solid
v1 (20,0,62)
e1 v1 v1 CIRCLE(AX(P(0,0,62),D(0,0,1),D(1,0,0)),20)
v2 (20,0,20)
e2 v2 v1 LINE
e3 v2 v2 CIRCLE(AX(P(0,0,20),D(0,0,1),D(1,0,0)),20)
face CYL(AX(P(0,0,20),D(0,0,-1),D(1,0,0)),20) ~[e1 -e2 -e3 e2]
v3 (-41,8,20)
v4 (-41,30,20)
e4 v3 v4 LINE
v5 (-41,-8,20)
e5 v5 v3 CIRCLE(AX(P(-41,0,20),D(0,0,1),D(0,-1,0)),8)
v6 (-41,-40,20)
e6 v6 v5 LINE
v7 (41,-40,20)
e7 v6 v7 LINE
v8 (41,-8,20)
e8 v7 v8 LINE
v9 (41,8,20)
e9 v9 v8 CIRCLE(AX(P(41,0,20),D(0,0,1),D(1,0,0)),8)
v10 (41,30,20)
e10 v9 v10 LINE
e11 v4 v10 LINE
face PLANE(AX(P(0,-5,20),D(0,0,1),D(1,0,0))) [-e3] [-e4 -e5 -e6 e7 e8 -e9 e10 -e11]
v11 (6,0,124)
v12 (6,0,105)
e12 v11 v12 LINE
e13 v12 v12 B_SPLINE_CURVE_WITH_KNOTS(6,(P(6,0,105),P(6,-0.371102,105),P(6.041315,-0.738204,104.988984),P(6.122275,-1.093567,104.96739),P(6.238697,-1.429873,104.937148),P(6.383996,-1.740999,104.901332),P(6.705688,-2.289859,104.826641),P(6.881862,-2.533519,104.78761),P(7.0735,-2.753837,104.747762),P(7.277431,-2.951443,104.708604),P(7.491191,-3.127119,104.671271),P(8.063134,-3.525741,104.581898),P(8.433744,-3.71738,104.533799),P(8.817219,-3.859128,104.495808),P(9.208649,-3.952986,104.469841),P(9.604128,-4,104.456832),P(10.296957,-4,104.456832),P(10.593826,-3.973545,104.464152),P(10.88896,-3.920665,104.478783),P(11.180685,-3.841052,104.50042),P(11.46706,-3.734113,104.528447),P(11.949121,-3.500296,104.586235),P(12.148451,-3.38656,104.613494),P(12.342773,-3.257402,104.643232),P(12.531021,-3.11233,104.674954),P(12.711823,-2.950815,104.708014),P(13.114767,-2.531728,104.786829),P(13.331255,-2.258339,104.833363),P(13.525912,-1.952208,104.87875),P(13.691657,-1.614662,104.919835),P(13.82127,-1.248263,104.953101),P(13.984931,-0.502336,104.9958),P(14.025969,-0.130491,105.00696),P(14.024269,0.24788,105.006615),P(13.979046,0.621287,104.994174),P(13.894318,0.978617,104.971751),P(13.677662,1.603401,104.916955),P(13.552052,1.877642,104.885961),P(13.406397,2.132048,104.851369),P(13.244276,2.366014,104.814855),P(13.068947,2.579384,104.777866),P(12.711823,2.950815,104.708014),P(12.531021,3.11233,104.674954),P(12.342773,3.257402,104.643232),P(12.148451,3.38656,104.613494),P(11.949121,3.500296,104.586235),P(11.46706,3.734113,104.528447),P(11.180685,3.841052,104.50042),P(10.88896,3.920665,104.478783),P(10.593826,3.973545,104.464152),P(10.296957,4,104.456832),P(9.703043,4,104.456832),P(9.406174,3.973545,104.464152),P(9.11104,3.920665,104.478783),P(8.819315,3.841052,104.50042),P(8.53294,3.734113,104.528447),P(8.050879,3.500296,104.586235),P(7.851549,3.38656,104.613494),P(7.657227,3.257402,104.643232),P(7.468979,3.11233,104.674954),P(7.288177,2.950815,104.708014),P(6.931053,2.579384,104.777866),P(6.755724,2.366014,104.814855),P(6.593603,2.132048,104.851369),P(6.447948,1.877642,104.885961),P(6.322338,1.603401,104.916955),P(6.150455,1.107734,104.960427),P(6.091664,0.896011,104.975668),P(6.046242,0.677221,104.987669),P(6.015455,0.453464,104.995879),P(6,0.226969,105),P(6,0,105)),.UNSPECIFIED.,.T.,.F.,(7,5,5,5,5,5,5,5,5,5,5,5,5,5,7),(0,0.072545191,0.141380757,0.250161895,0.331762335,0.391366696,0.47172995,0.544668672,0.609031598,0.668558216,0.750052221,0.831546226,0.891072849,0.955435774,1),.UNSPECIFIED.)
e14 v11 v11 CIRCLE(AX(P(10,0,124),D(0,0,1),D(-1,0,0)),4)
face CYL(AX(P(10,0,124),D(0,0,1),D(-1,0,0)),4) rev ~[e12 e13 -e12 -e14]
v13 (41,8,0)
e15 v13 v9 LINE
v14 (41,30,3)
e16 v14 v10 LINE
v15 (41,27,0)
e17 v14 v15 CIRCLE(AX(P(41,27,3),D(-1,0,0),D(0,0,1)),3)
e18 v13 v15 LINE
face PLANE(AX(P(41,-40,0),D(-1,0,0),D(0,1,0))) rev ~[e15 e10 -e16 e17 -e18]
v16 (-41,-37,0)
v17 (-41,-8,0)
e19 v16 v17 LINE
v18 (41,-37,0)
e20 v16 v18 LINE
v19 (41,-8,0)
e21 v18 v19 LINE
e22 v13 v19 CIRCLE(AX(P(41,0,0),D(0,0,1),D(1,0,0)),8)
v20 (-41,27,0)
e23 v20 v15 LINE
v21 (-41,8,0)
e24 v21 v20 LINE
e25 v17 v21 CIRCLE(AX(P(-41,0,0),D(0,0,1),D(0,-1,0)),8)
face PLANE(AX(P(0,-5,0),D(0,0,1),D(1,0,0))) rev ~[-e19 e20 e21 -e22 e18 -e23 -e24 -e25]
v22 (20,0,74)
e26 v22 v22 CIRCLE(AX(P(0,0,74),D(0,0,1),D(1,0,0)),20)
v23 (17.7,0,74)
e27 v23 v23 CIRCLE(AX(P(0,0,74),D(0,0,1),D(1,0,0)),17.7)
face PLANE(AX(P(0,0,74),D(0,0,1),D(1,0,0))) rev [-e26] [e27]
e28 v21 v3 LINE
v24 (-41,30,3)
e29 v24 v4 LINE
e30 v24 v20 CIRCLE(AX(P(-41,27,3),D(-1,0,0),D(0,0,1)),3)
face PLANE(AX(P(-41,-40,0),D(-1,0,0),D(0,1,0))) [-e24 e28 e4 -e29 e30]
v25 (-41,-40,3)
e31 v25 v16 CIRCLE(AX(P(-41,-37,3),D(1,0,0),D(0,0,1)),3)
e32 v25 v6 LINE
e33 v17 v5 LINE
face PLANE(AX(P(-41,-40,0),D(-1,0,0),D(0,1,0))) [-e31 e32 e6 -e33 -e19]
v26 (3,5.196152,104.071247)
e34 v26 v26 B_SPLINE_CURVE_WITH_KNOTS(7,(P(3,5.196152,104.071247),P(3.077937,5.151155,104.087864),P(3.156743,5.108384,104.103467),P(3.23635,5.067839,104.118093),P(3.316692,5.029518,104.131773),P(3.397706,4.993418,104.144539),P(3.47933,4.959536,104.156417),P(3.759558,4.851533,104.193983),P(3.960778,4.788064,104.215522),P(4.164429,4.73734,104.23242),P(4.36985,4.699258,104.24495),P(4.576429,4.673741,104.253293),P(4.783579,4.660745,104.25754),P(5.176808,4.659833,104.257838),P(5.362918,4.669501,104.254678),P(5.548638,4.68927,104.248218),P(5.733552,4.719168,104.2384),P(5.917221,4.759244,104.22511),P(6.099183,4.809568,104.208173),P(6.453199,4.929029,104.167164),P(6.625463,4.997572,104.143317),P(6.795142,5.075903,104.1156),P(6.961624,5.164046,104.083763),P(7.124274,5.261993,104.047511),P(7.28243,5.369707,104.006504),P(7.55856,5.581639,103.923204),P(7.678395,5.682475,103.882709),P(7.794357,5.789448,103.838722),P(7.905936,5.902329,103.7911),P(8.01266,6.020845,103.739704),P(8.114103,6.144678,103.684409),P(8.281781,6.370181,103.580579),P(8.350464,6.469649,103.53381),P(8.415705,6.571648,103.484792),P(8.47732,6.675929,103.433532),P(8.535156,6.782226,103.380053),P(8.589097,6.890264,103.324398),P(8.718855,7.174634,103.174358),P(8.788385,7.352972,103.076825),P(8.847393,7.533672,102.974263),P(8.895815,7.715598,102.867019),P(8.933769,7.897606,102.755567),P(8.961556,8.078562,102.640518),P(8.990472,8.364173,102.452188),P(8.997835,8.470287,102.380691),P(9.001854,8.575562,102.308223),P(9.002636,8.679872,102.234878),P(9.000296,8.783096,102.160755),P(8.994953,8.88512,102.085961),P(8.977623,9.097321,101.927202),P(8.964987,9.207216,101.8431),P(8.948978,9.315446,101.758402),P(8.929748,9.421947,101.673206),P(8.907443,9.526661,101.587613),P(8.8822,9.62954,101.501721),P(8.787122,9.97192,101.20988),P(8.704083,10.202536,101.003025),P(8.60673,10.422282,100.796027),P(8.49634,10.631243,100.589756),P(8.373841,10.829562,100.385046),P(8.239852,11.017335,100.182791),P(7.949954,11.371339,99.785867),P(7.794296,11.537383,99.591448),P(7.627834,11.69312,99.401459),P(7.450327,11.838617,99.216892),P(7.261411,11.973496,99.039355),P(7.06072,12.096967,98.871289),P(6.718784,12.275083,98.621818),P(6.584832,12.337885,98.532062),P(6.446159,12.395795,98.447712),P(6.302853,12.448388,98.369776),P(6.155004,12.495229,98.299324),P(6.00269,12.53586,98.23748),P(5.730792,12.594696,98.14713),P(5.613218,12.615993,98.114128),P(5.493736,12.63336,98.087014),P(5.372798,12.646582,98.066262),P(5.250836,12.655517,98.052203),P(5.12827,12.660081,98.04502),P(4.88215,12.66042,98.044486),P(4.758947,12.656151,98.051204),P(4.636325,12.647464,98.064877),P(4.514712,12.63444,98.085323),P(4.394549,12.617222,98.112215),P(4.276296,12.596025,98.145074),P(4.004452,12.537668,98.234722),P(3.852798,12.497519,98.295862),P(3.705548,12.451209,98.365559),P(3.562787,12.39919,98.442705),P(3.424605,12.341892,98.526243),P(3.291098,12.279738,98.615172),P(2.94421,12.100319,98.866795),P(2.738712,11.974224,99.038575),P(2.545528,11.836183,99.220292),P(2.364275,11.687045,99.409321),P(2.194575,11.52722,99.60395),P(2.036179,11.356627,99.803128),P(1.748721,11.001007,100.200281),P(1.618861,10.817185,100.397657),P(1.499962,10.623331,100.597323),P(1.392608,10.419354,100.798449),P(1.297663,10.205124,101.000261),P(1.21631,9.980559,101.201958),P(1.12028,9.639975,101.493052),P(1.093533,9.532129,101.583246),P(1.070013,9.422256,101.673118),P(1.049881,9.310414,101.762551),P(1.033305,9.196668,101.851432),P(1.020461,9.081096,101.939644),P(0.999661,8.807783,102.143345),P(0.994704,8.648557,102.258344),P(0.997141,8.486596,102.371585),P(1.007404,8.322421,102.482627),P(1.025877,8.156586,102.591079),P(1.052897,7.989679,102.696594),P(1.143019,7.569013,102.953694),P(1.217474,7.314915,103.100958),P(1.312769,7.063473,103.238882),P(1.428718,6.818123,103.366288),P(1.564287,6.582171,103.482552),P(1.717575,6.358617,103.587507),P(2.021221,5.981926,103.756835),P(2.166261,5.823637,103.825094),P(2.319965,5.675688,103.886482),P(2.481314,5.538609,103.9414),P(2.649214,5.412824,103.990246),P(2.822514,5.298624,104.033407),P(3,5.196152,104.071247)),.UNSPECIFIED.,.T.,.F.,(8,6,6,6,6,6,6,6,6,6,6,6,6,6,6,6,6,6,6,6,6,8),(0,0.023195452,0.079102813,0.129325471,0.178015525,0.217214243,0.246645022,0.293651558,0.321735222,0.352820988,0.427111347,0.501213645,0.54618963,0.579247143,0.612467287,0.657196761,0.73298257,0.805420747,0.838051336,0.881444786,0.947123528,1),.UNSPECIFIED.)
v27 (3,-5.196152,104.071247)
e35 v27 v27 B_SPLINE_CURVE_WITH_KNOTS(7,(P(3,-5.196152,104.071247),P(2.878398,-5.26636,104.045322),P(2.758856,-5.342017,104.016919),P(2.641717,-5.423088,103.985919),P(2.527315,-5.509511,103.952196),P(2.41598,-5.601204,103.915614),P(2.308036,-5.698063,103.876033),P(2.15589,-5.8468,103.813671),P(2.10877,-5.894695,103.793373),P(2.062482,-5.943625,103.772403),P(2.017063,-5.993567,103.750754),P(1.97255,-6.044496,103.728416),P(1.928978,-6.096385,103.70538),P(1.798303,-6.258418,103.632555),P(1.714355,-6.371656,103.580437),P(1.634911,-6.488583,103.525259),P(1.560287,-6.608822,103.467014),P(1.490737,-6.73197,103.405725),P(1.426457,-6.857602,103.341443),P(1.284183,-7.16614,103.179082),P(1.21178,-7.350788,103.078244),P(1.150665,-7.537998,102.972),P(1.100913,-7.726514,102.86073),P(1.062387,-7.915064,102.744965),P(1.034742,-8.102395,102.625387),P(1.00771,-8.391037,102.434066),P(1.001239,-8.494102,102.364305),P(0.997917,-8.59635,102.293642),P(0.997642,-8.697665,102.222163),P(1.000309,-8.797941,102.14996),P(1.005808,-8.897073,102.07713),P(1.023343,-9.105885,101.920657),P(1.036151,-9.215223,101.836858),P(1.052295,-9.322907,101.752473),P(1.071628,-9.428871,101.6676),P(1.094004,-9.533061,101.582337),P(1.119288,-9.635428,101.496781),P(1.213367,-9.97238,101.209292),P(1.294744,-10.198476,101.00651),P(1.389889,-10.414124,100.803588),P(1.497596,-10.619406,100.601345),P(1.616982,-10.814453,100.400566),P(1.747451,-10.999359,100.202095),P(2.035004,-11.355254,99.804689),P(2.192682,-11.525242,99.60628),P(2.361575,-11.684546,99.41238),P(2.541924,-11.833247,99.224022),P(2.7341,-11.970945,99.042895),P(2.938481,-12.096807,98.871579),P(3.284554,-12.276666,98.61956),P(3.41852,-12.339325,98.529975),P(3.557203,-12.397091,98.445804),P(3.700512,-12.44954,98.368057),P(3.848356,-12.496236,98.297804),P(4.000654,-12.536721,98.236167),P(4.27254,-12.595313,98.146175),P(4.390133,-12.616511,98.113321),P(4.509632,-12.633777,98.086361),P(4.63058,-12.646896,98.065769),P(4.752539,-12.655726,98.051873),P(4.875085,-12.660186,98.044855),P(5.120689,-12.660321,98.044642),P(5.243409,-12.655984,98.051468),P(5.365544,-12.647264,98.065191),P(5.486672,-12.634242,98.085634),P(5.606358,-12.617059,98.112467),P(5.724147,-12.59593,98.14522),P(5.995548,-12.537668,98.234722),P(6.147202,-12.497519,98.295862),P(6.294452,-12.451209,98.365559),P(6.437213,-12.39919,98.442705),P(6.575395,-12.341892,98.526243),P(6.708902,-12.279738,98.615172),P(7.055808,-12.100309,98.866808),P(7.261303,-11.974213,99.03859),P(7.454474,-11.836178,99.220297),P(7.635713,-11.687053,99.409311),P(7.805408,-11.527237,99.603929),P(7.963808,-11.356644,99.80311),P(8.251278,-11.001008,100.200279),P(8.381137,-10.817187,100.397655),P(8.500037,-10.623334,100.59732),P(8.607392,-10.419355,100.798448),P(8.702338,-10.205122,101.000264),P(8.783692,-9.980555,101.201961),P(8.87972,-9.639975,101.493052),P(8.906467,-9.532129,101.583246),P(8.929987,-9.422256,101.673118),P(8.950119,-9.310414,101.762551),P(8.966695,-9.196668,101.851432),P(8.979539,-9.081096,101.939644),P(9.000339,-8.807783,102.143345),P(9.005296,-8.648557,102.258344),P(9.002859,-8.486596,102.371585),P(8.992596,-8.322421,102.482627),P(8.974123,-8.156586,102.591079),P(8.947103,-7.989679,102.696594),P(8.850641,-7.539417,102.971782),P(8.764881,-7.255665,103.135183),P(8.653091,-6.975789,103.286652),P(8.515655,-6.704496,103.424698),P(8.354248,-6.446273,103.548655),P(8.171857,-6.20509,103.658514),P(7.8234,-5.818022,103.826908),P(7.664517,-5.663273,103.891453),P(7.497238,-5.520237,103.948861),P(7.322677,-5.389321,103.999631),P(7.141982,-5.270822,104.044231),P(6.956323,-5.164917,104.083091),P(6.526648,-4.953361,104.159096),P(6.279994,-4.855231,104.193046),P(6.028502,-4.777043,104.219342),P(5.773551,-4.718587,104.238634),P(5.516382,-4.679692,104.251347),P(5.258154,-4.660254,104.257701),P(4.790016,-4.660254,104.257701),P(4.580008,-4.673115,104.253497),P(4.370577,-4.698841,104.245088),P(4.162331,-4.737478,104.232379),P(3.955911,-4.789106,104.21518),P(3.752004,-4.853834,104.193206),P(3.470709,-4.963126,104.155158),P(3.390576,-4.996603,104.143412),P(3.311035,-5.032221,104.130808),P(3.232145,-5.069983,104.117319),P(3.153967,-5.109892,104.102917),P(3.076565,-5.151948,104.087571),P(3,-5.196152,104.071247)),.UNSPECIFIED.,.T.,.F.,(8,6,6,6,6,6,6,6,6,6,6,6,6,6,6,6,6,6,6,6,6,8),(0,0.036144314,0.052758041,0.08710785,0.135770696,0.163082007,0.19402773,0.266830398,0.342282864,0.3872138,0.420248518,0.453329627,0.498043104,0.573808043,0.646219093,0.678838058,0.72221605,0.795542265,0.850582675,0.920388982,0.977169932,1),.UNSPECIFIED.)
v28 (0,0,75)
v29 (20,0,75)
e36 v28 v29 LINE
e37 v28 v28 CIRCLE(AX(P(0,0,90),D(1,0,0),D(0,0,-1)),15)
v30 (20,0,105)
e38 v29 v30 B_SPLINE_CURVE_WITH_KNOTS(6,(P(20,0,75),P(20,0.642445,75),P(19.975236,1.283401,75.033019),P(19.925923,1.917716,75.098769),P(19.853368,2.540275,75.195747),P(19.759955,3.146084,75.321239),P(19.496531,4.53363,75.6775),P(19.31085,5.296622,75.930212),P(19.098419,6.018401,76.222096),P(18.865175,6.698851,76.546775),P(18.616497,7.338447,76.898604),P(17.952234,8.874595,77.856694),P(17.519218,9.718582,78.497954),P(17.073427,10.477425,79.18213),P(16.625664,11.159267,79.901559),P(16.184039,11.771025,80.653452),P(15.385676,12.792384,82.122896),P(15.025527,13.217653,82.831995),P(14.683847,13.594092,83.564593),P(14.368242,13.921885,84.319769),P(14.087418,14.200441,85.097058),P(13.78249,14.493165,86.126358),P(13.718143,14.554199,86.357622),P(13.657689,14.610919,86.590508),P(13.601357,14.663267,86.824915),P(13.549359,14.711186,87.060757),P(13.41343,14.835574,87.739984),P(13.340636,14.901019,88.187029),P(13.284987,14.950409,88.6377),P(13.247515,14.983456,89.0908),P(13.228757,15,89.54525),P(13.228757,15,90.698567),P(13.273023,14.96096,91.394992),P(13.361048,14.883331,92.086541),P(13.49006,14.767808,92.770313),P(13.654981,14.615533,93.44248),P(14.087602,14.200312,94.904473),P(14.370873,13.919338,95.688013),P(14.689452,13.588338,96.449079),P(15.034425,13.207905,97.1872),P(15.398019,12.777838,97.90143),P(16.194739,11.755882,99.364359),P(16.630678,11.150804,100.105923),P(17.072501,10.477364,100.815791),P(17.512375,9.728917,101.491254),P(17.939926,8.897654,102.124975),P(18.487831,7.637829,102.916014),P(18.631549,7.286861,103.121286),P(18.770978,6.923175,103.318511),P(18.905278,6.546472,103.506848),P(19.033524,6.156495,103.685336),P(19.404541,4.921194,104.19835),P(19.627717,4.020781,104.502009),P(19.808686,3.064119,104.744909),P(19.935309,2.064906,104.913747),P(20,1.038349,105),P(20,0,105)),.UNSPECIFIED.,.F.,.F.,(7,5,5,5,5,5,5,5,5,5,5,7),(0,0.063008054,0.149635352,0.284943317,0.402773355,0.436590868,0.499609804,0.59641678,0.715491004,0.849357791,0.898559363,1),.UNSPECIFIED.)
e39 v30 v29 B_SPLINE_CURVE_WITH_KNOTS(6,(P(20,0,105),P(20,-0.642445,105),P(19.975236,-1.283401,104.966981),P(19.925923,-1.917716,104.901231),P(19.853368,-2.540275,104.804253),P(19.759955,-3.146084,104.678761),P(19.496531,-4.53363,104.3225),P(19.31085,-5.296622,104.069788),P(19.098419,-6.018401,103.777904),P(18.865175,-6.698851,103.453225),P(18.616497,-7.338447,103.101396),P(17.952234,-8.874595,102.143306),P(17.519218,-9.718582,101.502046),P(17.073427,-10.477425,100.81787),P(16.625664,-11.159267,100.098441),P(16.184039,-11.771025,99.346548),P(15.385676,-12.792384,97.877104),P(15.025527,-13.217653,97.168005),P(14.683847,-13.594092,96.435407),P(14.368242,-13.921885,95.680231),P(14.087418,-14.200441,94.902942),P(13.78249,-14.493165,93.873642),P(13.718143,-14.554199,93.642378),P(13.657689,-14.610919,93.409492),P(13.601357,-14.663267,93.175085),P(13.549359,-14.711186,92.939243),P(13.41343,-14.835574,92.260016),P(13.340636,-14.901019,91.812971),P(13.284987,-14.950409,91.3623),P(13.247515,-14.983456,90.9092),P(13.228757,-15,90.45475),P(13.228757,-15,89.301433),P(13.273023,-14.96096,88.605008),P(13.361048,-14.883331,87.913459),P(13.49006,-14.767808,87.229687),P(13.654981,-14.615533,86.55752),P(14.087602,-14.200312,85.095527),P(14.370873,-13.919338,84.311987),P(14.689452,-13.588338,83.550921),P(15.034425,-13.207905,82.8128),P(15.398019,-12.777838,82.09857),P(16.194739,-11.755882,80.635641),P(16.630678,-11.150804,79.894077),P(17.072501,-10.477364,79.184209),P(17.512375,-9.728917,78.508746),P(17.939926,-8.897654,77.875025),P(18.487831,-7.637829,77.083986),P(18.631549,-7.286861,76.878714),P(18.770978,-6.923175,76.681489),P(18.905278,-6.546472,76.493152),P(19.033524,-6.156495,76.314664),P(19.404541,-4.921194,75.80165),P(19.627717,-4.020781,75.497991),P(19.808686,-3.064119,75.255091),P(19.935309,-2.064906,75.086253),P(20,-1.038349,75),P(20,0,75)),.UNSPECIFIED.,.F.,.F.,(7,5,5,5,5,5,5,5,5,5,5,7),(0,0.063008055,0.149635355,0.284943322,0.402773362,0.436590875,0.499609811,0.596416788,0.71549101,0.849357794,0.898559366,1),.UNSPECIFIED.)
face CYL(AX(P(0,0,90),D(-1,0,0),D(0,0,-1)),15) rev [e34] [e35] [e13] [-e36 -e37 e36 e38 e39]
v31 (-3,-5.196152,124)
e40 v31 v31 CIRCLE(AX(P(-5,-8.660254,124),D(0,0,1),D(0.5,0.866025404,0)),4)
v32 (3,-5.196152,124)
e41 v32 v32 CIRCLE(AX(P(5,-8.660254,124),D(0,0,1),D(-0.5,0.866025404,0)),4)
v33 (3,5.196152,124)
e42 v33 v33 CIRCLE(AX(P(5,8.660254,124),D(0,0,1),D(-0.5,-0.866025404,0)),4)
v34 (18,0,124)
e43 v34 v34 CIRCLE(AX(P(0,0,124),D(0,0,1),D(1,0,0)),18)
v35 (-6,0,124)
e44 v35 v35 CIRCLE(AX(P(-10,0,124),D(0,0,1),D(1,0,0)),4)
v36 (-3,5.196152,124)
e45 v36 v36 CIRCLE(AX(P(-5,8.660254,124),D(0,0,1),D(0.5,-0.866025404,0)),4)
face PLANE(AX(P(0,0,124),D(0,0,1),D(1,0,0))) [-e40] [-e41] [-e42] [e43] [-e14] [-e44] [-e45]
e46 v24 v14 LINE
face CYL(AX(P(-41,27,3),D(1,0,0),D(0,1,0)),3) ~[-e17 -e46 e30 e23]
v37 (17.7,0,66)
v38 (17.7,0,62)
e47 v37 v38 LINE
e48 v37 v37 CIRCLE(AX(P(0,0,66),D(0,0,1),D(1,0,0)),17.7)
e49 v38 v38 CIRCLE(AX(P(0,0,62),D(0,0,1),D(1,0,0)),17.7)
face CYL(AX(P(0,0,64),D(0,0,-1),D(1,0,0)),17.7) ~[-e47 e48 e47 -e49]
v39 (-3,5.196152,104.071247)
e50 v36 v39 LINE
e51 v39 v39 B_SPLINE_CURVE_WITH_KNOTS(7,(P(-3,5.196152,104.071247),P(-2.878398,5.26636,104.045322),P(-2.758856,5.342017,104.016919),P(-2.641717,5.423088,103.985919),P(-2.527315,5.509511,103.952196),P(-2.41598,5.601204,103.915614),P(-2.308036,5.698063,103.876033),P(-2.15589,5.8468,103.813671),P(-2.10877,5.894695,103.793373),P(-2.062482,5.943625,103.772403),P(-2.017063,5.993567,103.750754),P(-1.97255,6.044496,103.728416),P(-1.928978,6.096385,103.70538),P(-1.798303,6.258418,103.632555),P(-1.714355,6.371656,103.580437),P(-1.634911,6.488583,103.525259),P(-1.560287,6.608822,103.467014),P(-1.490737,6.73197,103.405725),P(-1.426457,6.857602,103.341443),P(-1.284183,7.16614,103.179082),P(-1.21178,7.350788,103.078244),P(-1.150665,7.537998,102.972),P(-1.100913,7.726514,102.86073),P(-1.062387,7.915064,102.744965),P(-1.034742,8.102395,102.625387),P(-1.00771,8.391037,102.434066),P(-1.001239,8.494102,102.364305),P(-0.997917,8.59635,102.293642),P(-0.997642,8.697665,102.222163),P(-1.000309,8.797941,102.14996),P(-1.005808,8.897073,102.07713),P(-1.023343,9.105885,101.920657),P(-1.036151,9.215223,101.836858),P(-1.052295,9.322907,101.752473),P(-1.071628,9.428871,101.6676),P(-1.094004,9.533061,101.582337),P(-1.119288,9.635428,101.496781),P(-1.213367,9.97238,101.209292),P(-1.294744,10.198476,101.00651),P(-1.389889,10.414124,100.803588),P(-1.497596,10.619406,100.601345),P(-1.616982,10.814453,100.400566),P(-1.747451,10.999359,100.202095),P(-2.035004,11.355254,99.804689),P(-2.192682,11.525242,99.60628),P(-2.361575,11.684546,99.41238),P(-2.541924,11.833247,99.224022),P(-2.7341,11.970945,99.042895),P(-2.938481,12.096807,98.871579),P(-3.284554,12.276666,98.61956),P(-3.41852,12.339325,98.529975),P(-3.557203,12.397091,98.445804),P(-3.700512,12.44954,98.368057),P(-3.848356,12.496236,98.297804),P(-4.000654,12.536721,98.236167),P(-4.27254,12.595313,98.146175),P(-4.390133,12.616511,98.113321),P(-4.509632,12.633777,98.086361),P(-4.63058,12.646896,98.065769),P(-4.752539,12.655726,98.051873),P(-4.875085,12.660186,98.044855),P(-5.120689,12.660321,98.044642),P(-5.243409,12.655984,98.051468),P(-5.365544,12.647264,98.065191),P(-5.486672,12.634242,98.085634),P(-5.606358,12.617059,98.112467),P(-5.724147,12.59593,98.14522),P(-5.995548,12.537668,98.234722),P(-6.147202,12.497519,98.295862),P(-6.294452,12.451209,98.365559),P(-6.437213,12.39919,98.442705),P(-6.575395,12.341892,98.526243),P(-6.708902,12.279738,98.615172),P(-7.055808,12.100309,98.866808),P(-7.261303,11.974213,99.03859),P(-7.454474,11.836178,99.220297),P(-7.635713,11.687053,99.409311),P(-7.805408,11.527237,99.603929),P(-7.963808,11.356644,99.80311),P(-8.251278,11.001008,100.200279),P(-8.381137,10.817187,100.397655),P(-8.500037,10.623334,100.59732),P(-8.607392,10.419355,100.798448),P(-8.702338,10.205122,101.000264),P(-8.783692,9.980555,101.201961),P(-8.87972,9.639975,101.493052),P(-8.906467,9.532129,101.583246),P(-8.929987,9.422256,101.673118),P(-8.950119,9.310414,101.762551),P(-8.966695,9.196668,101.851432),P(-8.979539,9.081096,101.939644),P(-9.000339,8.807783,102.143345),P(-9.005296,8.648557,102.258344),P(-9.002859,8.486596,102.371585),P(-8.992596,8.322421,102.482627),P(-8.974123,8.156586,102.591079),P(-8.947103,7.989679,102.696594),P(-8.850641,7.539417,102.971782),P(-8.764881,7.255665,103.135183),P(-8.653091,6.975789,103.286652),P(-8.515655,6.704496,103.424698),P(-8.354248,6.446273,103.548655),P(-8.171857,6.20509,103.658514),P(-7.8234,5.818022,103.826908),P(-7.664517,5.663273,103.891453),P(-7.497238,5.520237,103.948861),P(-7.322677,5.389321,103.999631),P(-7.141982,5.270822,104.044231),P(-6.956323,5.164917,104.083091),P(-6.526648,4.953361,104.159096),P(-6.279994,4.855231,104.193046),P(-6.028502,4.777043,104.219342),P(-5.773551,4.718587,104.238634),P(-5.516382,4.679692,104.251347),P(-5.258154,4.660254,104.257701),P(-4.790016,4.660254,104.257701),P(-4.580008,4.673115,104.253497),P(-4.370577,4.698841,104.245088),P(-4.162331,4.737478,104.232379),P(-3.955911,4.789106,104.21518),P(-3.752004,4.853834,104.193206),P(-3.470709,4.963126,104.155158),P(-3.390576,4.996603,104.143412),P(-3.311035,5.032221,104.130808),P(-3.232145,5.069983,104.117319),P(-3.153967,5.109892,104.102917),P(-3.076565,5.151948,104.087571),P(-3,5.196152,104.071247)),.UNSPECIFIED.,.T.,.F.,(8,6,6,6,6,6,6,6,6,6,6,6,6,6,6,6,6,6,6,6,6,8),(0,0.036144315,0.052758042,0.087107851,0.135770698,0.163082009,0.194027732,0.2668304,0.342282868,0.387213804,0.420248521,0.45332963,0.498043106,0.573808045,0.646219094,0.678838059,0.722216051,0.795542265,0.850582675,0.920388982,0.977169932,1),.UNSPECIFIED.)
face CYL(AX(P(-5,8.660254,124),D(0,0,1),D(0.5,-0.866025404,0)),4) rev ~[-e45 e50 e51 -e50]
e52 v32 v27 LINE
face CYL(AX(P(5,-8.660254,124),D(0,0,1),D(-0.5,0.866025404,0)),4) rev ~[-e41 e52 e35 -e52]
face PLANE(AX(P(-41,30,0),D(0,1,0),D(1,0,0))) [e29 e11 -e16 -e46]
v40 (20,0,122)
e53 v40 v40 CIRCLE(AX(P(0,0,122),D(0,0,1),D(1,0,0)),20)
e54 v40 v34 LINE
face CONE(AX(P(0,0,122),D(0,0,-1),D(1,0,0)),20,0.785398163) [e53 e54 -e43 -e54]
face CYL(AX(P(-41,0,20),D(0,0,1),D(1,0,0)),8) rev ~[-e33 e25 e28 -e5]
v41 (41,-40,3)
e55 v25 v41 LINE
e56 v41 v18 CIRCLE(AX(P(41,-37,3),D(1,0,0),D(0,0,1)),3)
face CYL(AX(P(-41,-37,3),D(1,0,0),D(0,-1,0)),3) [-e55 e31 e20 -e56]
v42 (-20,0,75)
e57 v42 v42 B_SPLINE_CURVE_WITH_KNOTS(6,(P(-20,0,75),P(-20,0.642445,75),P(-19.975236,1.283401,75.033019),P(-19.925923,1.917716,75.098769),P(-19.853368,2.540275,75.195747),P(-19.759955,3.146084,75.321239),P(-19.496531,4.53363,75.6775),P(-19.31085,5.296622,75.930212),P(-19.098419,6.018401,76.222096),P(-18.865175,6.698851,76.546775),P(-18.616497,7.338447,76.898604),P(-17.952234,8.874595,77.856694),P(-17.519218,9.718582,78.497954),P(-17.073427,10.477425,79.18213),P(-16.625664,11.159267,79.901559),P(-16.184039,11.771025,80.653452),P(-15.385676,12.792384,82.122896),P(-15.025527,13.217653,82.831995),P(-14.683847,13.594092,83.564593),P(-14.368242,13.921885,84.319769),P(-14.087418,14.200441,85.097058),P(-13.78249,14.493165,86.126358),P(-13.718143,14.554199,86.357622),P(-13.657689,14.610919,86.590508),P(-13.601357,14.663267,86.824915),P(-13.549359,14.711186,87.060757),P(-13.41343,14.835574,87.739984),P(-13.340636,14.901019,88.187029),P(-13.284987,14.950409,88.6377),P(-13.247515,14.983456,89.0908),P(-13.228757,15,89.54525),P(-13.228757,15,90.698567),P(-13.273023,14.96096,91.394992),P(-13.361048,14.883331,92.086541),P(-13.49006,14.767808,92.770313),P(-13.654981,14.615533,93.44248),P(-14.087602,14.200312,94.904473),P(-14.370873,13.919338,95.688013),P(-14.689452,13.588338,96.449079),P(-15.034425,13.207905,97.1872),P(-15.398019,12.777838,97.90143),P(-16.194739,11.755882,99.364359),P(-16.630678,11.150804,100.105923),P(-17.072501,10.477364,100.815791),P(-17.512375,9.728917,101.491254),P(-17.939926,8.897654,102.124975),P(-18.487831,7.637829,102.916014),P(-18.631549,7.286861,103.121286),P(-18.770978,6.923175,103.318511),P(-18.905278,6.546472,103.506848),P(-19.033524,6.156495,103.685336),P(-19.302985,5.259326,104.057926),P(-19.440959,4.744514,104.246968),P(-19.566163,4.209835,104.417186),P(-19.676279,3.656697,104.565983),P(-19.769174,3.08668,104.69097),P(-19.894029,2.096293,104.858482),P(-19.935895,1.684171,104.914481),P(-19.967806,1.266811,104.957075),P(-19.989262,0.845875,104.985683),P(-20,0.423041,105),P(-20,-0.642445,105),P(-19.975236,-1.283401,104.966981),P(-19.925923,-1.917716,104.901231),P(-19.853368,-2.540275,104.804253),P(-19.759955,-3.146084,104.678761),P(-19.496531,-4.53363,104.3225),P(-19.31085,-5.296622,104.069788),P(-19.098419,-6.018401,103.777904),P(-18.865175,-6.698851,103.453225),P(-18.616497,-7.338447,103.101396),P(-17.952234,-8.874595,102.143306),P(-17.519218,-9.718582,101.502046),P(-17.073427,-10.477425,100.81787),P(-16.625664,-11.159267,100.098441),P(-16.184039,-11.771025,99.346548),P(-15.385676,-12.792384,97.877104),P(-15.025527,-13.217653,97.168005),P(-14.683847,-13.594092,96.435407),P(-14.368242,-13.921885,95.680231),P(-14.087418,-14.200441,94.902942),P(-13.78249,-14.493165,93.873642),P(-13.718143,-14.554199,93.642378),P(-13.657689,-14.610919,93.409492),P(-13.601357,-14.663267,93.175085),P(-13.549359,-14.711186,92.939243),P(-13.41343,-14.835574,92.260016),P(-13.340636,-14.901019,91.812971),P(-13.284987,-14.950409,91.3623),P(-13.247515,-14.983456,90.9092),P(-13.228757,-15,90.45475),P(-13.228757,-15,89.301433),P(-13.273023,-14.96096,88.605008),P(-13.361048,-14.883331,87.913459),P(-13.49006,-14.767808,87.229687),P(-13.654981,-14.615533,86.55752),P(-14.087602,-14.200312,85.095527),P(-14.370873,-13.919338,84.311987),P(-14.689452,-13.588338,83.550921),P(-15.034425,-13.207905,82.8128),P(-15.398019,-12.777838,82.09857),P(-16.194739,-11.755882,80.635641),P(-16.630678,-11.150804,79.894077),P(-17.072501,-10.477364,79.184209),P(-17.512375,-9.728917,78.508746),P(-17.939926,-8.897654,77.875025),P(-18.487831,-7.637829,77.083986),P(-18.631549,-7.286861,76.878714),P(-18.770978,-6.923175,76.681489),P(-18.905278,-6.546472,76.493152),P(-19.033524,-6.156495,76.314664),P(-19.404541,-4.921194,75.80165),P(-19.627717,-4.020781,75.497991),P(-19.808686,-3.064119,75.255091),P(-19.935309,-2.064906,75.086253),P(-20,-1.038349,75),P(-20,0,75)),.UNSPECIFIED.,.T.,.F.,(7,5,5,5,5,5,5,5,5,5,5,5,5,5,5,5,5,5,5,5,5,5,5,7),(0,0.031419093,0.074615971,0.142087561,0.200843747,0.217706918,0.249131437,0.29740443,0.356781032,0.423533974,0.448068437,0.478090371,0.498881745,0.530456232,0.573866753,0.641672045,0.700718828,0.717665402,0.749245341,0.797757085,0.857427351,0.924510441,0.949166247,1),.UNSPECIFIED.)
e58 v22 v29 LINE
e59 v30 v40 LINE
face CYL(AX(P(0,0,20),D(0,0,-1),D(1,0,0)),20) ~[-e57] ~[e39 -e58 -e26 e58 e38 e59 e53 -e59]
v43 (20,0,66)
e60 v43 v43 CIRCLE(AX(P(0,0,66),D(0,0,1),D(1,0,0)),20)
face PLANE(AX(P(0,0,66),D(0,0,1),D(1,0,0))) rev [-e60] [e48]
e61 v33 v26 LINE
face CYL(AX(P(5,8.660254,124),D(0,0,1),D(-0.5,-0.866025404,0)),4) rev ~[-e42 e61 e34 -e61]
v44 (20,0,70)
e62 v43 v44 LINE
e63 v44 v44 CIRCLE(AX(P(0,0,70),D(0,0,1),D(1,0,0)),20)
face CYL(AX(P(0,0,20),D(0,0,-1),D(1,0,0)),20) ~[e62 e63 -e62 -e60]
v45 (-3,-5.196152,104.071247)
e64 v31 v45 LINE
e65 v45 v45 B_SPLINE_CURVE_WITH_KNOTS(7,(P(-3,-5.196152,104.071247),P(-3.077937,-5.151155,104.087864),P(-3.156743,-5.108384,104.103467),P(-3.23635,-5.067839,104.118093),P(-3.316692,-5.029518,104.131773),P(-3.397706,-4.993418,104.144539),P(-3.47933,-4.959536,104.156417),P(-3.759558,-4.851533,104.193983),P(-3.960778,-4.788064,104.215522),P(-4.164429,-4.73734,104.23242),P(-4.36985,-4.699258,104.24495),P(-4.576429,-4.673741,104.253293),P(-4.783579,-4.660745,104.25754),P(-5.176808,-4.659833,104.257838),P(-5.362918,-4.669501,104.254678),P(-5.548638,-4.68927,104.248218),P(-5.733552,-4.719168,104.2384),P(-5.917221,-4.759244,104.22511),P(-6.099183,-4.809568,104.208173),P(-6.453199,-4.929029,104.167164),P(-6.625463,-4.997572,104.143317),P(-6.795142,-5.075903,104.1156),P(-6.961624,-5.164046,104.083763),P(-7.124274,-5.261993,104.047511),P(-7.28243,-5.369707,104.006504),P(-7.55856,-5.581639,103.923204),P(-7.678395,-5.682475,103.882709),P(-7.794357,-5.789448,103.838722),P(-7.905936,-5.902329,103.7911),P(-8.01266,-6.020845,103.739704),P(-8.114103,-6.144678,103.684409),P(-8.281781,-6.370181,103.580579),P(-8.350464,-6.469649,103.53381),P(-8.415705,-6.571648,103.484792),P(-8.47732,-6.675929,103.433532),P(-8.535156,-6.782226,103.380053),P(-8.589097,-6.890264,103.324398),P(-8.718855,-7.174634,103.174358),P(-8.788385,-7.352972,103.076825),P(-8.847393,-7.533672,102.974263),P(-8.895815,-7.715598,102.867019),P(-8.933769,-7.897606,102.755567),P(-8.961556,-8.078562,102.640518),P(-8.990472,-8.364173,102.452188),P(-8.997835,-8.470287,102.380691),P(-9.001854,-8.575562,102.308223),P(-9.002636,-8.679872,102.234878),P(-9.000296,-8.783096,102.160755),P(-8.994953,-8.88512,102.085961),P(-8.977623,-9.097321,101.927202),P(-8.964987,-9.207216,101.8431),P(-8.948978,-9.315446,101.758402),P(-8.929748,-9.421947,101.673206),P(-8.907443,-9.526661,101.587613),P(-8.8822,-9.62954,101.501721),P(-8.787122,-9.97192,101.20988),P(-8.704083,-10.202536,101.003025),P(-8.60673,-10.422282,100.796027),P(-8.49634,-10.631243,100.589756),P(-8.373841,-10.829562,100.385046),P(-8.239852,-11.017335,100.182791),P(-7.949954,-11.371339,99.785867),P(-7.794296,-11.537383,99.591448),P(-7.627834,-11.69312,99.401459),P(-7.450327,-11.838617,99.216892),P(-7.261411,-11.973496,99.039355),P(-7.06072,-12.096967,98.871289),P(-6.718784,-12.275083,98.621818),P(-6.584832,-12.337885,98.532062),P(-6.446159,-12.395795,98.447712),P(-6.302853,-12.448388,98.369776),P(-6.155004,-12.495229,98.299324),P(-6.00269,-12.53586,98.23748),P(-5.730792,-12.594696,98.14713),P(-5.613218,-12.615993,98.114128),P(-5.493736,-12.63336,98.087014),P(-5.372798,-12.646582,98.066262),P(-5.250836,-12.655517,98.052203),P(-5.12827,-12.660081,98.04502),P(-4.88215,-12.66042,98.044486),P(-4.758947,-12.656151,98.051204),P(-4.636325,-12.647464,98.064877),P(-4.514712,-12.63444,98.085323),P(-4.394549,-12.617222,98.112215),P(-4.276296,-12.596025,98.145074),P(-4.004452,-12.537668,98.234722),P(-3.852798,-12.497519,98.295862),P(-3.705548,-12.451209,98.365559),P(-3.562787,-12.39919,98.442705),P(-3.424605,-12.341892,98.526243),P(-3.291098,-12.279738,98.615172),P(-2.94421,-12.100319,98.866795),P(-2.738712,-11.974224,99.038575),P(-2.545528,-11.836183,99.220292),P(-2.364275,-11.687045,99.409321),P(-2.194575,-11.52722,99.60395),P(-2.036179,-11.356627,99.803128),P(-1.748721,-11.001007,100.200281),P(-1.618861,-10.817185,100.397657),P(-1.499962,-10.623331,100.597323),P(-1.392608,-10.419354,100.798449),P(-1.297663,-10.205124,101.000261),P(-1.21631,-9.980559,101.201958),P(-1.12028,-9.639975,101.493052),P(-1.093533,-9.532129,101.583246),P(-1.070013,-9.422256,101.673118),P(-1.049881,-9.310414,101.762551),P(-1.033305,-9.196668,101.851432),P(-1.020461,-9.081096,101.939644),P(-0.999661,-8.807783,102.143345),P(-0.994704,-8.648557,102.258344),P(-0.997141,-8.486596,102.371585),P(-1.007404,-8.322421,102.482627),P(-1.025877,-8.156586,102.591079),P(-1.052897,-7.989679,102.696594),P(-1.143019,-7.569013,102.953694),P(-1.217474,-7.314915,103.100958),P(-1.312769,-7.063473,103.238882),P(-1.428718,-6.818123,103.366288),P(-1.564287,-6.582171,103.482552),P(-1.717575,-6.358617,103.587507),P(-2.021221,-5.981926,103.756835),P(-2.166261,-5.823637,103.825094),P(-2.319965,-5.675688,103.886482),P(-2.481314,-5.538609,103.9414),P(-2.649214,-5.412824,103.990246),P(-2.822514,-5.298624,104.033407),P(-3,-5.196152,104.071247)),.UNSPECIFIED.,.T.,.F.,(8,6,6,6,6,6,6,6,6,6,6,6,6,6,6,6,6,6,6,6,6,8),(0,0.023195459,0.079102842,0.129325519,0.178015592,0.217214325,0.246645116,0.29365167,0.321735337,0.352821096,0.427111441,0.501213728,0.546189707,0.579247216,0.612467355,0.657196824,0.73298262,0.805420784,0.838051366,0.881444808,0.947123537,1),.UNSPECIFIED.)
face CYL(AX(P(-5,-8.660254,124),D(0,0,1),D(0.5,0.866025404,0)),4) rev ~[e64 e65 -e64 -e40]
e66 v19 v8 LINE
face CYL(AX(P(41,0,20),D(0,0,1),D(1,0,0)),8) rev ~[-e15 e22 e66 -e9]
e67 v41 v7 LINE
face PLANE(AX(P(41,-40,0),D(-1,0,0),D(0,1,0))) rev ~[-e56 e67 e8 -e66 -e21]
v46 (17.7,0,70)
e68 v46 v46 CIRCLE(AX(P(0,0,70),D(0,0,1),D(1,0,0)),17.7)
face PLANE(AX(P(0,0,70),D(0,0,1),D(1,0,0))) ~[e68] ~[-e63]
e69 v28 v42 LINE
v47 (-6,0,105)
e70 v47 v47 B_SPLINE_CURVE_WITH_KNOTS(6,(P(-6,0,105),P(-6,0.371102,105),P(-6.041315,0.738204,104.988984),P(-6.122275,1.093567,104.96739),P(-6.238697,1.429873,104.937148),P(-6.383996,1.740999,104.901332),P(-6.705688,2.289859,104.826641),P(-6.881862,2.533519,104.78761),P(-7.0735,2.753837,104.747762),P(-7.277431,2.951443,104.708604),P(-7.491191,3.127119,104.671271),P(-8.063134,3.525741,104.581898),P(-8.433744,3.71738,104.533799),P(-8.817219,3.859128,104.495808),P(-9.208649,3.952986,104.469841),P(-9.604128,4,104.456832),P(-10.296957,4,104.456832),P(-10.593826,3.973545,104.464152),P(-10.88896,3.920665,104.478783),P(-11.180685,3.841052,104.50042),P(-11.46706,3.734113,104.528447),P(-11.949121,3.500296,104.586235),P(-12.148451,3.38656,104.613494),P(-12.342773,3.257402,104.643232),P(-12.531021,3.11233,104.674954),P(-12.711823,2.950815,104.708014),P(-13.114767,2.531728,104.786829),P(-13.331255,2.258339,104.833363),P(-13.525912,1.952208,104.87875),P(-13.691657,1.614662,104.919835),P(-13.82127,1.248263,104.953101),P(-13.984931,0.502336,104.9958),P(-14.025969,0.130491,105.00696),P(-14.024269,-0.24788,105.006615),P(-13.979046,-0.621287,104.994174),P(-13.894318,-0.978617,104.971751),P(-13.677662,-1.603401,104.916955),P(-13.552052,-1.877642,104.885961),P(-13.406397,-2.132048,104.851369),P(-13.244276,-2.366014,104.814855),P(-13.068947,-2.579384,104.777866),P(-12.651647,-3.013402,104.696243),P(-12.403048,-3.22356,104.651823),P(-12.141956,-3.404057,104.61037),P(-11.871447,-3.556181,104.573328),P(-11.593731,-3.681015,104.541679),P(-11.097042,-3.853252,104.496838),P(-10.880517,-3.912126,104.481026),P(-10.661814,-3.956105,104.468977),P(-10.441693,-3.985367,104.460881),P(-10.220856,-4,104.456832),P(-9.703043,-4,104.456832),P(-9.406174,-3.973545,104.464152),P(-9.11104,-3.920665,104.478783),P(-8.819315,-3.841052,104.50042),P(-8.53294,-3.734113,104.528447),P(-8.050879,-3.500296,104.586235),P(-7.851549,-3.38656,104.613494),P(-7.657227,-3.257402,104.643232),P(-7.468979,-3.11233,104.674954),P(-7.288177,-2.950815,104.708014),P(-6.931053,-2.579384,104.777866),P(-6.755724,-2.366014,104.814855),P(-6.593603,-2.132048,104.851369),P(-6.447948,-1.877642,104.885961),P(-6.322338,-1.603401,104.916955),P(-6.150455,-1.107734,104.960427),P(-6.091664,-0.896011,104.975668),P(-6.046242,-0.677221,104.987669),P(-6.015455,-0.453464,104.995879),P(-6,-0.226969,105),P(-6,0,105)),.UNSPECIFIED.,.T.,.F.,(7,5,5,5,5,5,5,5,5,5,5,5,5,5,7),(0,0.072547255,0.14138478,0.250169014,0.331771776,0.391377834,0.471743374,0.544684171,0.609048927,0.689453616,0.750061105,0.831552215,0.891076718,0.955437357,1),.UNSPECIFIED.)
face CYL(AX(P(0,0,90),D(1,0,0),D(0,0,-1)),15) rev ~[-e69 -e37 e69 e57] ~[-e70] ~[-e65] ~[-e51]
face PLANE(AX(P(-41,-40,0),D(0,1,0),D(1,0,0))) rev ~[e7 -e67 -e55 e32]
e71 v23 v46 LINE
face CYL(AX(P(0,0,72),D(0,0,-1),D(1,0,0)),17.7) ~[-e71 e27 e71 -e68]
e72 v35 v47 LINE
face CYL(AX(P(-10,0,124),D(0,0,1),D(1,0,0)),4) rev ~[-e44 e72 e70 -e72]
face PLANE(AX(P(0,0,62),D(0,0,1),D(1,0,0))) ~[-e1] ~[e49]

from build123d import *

# Parameters (mm, degrees)
SKETCH1_W               = 82
SKETCH1_H               = 70
BOSS_EXTRUDE1_DEPTH     = 20
SKETCH2_R               = 8
CUT_EXTRUDE1_DEPTH      = 20
SKETCH3_R               = 20
BOSS_EXTRUDE2_DEPTH     = 104
SKETCH4_R               = 15
CUT_EXTRUDE2_DEPTH      = 42
CUT_EXTRUDE2_DEPTH_BACK = 42
SKETCH5_W               = 2.3
SKETCH5_H               = 4
SKETCH6_R               = 4
CUT_EXTRUDE3_DEPTH      = 30
CIRPATTERN1_COUNT       = 6
CHAMFER1_SIZE           = 2
FILLET1_R               = 3


with BuildPart() as part:
    # Sketch1 → Boss-Extrude1 (new body)
    with BuildSketch(Plane.XY):
        with Locations((0, -5)):
            Rectangle(SKETCH1_W, SKETCH1_H)
    extrude(amount=BOSS_EXTRUDE1_DEPTH)

    # Sketch2 → Cut-Extrude1 (cut)
    with BuildSketch(Plane.XY.offset(20)):
        with Locations((-41, 0)):
            Circle(SKETCH2_R)
        with Locations((41, 0)):
            Circle(SKETCH2_R)
    extrude(amount=-CUT_EXTRUDE1_DEPTH, mode=Mode.SUBTRACT)

    # Sketch3 → Boss-Extrude2 (add)
    with BuildSketch(Plane.XY.offset(20)):
        Circle(SKETCH3_R)
    extrude(amount=BOSS_EXTRUDE2_DEPTH)

    # Sketch4 → Cut-Extrude2 (cut, two sides)
    with BuildSketch(Plane(origin=(0, 0, 0), x_dir=(0, 0, -1), z_dir=(1, 0, 0))) as cut_extrude2_sk:
        with Locations((-90, 0)):
            Circle(SKETCH4_R)
    extrude(amount=CUT_EXTRUDE2_DEPTH, mode=Mode.SUBTRACT)
    extrude(cut_extrude2_sk.sketch, amount=-CUT_EXTRUDE2_DEPTH_BACK, mode=Mode.SUBTRACT)

    # Sketch5 → Cut-Revolve1 (revolve, cut)
    with BuildSketch(Plane(origin=(0, 0, 0), x_dir=(1, 0, 0), z_dir=(0, 1, 0))):
        with Locations((18.85, -72)):
            Rectangle(SKETCH5_W, SKETCH5_H)
        with Locations((18.85, -64)):
            Rectangle(SKETCH5_W, SKETCH5_H)
    revolve(axis=Axis((0, 0, 20), (0, 0, 1)), mode=Mode.SUBTRACT)

    # Sketch6 → Cut-Extrude3 (cut)
    with BuildSketch(Plane.XY.offset(124)):
        with Locations((-10, 0)):
            Circle(SKETCH6_R)
    cut_extrude3 = extrude(amount=-CUT_EXTRUDE3_DEPTH, mode=Mode.SUBTRACT)

    # CirPattern1: Cut-Extrude3 ×6 about axis
    cirpattern1_axis = Axis((0, 0, 0), (0, 0, 1))
    for i in range(1, CIRPATTERN1_COUNT):
        add(cut_extrude3.rotate(cirpattern1_axis, i * 360 / CIRPATTERN1_COUNT), mode=Mode.SUBTRACT)

    # Chamfer1
    chamfer1_edges = [part.edges().sort_by_distance(p)[0] for p in [
        (-20, 0, 124),
    ]]
    chamfer(chamfer1_edges, length=CHAMFER1_SIZE)

    # Fillet1
    fillet1_edges = [part.edges().sort_by_distance(p)[0] for p in [
        (0, -40, 0),
        (0, 30, 0),
    ]]
    fillet(fillet1_edges, radius=FILLET1_R)


solid = part.part
